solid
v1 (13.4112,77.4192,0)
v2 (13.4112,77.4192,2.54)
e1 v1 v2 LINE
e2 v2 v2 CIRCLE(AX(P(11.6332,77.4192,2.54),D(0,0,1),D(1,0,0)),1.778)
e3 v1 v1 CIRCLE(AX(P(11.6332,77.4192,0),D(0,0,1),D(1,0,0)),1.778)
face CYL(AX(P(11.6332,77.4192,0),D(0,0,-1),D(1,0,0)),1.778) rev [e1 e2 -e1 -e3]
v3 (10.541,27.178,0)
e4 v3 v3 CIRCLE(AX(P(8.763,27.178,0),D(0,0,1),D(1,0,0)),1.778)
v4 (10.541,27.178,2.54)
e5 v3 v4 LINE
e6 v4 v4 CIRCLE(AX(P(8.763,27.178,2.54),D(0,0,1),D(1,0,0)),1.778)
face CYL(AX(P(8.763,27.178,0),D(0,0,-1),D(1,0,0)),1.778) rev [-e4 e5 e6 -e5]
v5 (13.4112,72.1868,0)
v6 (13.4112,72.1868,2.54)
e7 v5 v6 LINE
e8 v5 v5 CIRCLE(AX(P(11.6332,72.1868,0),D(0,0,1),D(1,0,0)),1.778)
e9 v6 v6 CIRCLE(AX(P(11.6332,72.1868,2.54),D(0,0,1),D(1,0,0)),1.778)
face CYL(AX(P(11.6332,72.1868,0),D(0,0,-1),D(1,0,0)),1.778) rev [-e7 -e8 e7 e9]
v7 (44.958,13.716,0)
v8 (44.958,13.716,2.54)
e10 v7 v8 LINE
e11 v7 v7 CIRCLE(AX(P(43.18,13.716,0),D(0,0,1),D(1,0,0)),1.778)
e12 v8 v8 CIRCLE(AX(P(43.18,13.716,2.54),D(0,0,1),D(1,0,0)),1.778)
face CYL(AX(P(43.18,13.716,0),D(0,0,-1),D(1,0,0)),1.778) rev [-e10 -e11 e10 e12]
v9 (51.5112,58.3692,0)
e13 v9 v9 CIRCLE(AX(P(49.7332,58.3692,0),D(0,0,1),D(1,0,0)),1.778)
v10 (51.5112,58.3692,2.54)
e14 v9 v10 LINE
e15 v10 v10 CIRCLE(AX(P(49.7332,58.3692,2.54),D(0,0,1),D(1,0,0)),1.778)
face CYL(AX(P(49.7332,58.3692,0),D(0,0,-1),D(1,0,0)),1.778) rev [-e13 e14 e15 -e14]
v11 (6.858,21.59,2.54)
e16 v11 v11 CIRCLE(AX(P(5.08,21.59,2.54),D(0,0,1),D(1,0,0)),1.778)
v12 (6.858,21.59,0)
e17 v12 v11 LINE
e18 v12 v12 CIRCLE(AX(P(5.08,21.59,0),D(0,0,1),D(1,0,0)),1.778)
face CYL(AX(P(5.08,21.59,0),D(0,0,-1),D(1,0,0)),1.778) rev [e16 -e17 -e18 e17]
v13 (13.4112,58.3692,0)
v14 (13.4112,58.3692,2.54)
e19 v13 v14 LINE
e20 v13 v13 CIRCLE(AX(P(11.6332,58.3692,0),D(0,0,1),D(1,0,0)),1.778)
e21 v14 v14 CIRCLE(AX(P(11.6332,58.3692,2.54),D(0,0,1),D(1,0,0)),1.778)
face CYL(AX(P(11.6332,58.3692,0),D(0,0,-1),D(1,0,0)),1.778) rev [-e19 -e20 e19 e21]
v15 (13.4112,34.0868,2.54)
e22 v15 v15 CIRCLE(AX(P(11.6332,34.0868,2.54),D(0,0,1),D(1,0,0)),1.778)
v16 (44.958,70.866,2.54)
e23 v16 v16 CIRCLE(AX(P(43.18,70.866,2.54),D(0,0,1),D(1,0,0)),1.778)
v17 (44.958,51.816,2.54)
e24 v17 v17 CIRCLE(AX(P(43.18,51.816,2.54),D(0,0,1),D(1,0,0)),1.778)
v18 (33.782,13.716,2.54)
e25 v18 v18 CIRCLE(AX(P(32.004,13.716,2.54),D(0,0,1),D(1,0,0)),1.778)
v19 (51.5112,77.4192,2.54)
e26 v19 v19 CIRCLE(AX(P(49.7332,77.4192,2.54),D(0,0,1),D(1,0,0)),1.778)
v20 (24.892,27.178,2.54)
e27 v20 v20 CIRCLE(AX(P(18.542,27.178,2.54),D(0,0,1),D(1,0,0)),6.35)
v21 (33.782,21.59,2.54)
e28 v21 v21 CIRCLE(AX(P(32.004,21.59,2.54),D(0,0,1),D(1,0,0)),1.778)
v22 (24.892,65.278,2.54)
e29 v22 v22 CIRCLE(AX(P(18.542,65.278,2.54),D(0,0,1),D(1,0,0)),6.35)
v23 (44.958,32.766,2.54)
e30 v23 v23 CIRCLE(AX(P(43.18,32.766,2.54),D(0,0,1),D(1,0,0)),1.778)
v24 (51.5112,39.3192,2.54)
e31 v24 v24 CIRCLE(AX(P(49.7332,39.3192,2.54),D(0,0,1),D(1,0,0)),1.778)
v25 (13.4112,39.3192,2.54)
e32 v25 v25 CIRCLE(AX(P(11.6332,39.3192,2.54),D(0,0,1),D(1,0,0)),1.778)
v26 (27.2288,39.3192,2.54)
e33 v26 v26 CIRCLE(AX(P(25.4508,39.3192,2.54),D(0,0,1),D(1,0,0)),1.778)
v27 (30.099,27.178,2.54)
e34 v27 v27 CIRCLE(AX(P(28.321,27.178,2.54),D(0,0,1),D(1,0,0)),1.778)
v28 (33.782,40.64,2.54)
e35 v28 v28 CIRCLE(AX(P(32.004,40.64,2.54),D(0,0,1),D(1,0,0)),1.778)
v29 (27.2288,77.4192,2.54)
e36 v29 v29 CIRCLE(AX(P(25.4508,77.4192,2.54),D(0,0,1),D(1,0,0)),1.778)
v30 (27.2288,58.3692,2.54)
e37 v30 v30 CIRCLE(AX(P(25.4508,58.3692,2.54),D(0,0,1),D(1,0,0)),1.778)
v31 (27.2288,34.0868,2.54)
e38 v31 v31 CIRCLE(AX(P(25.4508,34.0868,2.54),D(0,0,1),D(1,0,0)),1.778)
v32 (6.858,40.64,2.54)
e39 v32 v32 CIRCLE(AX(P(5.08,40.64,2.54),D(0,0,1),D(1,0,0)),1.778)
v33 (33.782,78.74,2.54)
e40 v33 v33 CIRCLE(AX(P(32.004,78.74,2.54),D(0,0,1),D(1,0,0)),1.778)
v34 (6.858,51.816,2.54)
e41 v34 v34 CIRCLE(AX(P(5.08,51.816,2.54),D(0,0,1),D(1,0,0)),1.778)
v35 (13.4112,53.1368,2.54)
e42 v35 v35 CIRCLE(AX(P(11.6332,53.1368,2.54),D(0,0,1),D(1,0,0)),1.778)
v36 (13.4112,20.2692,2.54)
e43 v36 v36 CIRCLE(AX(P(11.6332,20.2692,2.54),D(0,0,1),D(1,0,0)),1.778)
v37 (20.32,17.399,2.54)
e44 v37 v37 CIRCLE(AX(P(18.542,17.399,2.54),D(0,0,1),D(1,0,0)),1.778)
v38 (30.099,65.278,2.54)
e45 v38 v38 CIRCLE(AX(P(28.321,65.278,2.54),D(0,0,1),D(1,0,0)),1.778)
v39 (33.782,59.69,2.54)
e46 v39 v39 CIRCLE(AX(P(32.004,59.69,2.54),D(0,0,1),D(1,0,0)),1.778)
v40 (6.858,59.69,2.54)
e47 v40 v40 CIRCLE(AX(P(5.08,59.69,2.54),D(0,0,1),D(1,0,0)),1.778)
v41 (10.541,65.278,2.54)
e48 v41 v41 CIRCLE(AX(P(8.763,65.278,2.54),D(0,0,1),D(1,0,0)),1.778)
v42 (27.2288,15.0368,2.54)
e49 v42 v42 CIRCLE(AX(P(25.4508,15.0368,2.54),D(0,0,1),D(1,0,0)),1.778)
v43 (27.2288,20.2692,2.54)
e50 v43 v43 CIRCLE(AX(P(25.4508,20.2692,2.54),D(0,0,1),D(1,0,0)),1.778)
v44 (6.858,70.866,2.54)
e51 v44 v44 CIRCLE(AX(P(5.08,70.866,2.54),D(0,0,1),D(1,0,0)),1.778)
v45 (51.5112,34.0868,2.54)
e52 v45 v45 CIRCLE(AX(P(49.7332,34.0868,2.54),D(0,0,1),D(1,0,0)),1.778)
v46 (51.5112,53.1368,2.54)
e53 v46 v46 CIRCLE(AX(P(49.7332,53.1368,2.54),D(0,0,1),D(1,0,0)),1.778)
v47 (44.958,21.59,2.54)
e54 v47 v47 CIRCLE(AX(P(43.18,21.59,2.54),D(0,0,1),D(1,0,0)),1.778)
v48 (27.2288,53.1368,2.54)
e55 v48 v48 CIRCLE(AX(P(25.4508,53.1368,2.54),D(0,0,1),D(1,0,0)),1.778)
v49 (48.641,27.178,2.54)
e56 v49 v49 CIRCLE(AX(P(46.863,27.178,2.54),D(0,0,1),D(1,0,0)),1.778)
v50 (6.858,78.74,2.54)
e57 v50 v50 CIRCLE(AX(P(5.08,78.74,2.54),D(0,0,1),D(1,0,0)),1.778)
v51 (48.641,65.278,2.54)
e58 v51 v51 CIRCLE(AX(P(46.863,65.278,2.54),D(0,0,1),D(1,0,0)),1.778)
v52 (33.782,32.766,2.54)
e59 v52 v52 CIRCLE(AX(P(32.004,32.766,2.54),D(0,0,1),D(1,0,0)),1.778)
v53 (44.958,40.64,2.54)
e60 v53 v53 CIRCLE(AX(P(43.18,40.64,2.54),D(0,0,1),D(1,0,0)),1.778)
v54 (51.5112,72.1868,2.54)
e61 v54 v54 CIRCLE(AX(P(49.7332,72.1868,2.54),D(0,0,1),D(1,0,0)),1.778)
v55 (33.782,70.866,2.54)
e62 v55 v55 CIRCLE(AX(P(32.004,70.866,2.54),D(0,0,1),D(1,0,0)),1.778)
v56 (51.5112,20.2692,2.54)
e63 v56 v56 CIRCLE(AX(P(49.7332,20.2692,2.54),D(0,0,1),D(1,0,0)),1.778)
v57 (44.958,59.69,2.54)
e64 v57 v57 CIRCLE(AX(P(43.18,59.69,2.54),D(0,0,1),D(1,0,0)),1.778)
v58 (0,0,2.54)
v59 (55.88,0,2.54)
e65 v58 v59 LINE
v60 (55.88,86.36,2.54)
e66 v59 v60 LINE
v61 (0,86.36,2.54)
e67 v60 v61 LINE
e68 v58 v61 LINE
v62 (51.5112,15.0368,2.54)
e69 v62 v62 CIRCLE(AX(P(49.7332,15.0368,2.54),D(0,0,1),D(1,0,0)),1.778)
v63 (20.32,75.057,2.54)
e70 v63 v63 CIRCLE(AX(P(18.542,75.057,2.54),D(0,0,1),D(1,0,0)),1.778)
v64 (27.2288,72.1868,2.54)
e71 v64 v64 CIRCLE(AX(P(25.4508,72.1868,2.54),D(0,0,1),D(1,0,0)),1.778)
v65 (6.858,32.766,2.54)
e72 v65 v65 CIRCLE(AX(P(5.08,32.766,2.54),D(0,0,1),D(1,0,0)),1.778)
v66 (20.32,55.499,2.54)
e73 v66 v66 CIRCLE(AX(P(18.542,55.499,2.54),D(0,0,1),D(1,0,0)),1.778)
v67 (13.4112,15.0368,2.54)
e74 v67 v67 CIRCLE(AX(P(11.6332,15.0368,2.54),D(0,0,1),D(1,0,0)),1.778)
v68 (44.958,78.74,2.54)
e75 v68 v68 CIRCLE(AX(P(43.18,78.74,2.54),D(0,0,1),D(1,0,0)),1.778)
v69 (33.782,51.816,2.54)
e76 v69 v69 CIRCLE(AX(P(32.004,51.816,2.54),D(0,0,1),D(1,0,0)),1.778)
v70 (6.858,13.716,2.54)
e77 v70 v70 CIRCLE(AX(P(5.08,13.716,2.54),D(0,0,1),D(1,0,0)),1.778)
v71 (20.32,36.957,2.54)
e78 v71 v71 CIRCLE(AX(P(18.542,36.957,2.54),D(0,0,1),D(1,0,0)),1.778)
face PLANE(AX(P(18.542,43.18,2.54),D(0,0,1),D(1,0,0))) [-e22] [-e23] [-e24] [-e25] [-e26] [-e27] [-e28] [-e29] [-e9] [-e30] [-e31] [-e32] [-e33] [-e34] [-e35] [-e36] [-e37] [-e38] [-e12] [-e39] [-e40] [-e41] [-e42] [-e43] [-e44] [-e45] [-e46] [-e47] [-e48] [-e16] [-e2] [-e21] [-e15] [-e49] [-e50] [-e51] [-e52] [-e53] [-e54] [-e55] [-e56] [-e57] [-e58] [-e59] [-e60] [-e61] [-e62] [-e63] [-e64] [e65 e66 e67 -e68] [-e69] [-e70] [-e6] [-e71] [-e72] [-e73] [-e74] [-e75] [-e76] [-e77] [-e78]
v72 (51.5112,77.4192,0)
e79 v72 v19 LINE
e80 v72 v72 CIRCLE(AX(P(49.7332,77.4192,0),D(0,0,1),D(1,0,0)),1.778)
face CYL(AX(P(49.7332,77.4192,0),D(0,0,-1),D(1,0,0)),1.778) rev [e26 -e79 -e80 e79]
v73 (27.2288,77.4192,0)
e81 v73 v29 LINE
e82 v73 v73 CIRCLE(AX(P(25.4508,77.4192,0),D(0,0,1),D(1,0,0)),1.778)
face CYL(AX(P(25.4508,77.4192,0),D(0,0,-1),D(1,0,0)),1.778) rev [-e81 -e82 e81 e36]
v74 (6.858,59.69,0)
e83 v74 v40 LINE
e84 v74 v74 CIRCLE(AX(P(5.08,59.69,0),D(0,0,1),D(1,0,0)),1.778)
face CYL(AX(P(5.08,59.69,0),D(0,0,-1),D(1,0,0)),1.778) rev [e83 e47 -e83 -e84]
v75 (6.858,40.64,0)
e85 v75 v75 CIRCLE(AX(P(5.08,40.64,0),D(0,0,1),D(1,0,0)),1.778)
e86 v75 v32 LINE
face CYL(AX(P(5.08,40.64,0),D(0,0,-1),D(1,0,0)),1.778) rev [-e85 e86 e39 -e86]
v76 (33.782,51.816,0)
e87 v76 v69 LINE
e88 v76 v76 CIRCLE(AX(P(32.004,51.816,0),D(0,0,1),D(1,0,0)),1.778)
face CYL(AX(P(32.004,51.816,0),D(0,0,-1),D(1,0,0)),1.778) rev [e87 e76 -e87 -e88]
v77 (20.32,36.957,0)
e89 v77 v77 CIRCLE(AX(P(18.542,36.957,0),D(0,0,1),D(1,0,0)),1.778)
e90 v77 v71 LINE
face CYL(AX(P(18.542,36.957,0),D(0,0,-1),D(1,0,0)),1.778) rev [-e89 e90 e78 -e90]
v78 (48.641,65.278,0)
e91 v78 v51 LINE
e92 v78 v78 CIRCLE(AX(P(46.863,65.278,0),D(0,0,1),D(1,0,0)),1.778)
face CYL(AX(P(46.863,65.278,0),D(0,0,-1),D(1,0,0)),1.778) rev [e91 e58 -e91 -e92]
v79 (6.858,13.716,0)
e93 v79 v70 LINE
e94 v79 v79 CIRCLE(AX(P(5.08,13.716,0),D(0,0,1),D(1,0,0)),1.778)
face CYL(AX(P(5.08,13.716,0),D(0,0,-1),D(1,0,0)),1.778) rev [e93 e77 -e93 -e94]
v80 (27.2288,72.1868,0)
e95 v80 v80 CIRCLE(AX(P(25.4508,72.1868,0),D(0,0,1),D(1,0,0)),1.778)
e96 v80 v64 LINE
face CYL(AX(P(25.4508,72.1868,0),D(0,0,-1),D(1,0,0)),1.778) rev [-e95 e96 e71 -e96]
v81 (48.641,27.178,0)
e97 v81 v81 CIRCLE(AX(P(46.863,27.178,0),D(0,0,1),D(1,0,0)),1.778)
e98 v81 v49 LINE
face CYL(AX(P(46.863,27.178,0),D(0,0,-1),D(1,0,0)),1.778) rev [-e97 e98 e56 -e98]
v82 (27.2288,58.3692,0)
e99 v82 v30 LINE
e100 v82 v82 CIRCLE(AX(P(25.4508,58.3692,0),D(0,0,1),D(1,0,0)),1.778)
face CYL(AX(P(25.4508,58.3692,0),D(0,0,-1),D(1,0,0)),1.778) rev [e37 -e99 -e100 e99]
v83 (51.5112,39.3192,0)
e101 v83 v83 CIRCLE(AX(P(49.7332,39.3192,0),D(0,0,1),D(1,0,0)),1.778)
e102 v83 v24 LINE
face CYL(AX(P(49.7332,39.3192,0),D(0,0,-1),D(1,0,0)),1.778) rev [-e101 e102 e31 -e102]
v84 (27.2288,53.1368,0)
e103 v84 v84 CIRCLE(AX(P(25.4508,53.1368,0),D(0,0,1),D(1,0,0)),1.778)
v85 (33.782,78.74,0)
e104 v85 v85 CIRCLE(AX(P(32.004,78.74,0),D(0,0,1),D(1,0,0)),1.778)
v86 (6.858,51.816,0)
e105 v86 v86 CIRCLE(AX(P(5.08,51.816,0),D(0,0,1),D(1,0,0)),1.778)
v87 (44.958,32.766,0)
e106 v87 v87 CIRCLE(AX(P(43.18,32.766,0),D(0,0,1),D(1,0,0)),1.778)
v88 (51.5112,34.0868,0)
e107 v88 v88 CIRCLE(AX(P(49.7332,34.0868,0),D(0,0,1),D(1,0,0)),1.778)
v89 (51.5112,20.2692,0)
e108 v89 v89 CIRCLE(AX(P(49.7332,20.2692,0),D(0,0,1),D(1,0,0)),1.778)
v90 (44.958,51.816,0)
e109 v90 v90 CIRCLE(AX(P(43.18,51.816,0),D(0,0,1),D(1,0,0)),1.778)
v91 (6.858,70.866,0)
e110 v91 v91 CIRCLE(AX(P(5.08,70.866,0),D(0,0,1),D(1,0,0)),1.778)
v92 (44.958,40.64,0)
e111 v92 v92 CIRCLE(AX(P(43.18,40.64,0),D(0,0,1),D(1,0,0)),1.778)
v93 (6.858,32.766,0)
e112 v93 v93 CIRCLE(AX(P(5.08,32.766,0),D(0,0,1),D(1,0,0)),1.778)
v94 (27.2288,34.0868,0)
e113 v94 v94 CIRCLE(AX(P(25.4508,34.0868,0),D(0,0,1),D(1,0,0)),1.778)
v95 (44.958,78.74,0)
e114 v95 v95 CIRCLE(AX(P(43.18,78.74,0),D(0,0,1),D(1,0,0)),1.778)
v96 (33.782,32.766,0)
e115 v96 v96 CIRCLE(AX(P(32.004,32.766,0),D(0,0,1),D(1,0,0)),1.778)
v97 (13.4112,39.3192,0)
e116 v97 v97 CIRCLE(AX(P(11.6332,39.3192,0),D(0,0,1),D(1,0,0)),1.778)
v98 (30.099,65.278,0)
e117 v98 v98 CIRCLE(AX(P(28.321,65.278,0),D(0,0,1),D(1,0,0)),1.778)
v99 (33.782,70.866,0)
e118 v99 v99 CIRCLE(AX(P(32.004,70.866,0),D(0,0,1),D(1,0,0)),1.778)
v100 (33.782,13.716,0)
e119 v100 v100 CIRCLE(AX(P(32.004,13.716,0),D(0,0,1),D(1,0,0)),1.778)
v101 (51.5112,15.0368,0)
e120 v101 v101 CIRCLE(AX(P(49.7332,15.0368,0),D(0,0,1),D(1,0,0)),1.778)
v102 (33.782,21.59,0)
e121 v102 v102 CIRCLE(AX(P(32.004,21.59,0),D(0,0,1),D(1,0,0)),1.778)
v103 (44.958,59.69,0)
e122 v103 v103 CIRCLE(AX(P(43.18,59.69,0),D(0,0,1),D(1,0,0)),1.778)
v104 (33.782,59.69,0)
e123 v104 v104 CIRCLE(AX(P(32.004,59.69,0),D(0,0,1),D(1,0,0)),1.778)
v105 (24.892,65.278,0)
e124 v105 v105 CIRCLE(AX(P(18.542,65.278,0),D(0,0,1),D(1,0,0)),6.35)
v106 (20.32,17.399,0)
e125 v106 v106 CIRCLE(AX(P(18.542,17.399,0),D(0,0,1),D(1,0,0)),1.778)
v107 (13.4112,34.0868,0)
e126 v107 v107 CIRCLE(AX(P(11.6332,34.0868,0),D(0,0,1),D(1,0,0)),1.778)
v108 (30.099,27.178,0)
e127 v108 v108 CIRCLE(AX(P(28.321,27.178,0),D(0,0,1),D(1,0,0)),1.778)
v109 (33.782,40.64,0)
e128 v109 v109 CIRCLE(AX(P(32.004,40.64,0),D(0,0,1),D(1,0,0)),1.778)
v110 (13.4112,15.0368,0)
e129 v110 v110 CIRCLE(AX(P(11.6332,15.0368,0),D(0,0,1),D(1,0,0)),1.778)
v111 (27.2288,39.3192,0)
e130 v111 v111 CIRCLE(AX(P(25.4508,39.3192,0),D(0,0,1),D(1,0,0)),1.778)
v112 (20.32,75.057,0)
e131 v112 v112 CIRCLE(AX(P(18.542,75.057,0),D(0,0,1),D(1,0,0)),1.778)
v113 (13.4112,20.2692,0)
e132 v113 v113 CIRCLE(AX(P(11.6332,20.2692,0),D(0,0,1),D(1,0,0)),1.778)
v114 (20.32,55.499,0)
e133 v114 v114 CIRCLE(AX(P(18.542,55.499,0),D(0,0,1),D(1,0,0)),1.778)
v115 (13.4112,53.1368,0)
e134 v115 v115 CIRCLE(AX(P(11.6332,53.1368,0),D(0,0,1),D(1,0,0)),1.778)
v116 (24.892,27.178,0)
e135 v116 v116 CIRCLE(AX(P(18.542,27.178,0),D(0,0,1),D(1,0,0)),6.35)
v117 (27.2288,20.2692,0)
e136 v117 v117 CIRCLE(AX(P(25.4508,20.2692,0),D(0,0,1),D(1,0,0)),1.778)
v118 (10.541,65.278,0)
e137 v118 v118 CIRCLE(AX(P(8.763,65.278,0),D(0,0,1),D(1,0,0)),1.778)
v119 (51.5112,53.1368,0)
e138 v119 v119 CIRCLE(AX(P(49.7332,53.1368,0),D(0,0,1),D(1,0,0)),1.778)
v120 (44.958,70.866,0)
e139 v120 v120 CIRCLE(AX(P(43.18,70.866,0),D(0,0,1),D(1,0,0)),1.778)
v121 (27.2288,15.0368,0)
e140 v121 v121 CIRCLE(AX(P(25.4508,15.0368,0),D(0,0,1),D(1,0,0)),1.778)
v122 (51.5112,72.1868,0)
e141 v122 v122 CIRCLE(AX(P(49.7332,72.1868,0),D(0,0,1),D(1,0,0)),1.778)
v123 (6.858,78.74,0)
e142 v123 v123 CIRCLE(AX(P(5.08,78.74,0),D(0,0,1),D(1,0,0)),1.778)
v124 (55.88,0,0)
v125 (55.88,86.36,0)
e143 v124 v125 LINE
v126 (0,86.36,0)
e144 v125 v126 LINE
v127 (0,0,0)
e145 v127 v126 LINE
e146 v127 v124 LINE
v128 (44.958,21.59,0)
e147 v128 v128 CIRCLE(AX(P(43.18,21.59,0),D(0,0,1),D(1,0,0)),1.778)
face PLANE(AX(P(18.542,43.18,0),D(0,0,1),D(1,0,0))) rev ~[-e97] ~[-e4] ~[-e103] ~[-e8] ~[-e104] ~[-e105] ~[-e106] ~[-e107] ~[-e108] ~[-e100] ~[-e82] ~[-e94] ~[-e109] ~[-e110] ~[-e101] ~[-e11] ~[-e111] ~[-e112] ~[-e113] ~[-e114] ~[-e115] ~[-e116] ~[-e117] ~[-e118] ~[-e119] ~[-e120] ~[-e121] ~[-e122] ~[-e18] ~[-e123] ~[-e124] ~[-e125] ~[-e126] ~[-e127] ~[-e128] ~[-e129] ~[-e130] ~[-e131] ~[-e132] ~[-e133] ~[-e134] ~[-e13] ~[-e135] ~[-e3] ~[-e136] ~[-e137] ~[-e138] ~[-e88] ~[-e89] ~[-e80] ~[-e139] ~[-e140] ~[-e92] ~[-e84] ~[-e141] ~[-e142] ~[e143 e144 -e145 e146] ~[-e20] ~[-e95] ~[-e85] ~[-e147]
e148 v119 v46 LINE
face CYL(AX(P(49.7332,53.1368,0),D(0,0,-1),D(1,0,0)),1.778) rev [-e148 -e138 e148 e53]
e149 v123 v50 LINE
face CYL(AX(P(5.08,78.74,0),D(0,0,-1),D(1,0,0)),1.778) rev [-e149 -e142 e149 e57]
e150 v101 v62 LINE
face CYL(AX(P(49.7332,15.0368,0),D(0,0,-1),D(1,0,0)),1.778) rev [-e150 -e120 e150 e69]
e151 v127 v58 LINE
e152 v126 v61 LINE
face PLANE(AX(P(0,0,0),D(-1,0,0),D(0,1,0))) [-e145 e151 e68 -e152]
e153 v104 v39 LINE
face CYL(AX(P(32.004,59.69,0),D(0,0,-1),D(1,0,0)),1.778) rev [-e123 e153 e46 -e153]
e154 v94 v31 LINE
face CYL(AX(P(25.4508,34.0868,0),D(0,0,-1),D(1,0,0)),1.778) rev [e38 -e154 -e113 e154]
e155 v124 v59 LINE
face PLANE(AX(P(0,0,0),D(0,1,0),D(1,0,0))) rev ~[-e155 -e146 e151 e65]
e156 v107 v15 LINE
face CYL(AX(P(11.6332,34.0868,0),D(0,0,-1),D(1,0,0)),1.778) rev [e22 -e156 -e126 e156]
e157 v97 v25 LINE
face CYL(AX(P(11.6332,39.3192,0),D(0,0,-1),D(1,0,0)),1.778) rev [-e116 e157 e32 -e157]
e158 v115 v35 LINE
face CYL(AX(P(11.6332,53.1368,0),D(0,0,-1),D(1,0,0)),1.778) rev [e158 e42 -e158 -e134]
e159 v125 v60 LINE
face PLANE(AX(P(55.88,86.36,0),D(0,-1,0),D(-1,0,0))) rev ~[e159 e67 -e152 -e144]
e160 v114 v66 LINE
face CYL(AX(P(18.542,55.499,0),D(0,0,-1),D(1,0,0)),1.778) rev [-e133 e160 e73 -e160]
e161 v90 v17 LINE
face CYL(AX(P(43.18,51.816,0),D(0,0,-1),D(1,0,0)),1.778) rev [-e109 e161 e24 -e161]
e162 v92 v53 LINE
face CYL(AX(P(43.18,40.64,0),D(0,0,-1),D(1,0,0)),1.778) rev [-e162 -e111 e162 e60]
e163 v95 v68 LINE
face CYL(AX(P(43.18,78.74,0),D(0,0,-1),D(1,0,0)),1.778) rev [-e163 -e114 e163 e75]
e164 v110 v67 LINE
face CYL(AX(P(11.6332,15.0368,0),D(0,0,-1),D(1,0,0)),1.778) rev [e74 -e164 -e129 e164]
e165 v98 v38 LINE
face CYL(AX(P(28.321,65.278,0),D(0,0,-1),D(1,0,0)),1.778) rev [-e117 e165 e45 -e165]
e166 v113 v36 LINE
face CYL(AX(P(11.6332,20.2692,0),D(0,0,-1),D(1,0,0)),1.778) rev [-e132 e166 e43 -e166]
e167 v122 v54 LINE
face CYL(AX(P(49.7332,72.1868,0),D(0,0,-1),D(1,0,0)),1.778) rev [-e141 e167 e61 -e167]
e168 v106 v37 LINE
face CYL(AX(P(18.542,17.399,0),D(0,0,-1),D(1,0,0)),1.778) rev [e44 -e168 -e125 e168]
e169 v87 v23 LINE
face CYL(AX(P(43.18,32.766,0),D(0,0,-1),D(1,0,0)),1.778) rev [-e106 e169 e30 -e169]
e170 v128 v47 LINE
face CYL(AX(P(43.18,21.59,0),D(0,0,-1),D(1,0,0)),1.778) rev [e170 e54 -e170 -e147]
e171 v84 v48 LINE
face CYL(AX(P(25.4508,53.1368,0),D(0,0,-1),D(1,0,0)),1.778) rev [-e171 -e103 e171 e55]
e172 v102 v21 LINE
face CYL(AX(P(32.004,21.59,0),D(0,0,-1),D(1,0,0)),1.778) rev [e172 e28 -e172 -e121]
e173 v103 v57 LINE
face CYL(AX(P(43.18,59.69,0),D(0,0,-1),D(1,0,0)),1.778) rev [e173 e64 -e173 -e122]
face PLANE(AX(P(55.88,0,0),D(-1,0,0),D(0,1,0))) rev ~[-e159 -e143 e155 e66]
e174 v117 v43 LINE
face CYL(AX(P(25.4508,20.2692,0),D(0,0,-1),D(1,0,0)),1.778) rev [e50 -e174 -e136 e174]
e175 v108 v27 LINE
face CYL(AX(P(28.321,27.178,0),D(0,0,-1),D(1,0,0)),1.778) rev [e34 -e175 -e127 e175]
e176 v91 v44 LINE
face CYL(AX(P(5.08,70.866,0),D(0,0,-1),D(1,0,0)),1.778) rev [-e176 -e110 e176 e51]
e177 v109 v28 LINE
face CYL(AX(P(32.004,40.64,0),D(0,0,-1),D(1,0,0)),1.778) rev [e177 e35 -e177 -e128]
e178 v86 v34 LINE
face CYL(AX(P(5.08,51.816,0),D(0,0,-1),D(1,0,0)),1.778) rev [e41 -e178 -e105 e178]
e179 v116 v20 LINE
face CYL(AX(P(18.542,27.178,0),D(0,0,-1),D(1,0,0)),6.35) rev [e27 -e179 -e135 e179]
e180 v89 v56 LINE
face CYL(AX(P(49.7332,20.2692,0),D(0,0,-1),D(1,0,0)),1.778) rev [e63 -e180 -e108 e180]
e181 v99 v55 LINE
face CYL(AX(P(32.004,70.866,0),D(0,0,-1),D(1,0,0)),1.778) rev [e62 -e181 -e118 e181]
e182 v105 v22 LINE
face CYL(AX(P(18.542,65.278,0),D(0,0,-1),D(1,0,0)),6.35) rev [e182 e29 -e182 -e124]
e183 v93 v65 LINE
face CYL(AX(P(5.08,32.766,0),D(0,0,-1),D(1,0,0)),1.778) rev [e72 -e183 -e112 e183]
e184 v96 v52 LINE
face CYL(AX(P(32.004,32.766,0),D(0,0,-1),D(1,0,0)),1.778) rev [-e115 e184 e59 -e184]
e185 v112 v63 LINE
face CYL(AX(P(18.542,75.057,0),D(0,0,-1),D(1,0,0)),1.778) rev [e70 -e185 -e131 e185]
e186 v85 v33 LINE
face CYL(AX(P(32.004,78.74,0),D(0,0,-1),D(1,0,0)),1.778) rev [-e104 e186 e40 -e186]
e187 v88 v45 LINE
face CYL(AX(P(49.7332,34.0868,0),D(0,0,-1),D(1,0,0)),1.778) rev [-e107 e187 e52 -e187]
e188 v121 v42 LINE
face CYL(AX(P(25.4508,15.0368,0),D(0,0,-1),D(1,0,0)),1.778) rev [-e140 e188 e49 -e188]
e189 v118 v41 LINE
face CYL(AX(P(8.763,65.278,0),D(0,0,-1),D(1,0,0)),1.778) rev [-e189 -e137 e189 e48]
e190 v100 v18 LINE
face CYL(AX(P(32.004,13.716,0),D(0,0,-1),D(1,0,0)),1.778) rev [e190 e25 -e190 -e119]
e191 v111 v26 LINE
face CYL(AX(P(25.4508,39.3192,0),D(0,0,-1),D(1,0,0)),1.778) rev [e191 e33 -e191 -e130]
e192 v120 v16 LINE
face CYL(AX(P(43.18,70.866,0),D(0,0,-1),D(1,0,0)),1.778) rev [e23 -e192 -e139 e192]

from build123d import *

# Parameters (mm, degrees)
F0_W     = 37.084
F0_H     = 86.36
F0_R     = 1.778
F0_R_2   = 6.35
F0_W_2   = 18.796
F1_DEPTH = 2.54


with BuildPart() as f1:
    # F0 (on Top) → F1 (new body)
    with BuildSketch(Plane.XY):
        with Locations((18.542, 43.18)):
            Rectangle(F0_W, F0_H)
        with Locations((5.08, 13.716)):
            Circle(F0_R, mode=Mode.SUBTRACT)
        with Locations((11.6332, 15.0368)):
            Circle(F0_R, mode=Mode.SUBTRACT)
        with Locations((11.6332, 20.2692)):
            Circle(F0_R, mode=Mode.SUBTRACT)
        with Locations((18.542, 17.399)):
            Circle(F0_R, mode=Mode.SUBTRACT)
        with Locations((25.4508, 15.0368)):
            Circle(F0_R, mode=Mode.SUBTRACT)
        with Locations((25.4508, 20.2692)):
            Circle(F0_R, mode=Mode.SUBTRACT)
        with Locations((5.08, 21.59)):
            Circle(F0_R, mode=Mode.SUBTRACT)
        with Locations((8.763, 27.178)):
            Circle(F0_R, mode=Mode.SUBTRACT)
        with Locations((5.08, 32.766)):
            Circle(F0_R, mode=Mode.SUBTRACT)
        with Locations((5.08, 40.64)):
            Circle(F0_R, mode=Mode.SUBTRACT)
        with Locations((11.6332, 34.0868)):
            Circle(F0_R, mode=Mode.SUBTRACT)
        with Locations((11.6332, 39.3192)):
            Circle(F0_R, mode=Mode.SUBTRACT)
        with Locations((18.542, 27.178)):
            Circle(F0_R_2, mode=Mode.SUBTRACT)
        with Locations((18.542, 36.957)):
            Circle(F0_R, mode=Mode.SUBTRACT)
        with Locations((25.4508, 34.0868)):
            Circle(F0_R, mode=Mode.SUBTRACT)
        with Locations((25.4508, 39.3192)):
            Circle(F0_R, mode=Mode.SUBTRACT)
        with Locations((32.004, 13.716)):
            Circle(F0_R, mode=Mode.SUBTRACT)
        with Locations((32.004, 21.59)):
            Circle(F0_R, mode=Mode.SUBTRACT)
        with Locations((28.321, 27.178)):
            Circle(F0_R, mode=Mode.SUBTRACT)
        with Locations((32.004, 32.766)):
            Circle(F0_R, mode=Mode.SUBTRACT)
        with Locations((32.004, 40.64)):
            Circle(F0_R, mode=Mode.SUBTRACT)
        with Locations((5.08, 51.816)):
            Circle(F0_R, mode=Mode.SUBTRACT)
        with Locations((11.6332, 53.1368)):
            Circle(F0_R, mode=Mode.SUBTRACT)
        with Locations((5.08, 59.69)):
            Circle(F0_R, mode=Mode.SUBTRACT)
        with Locations((11.6332, 58.3692)):
            Circle(F0_R, mode=Mode.SUBTRACT)
        with Locations((25.4508, 53.1368)):
            Circle(F0_R, mode=Mode.SUBTRACT)
        with Locations((18.542, 55.499)):
            Circle(F0_R, mode=Mode.SUBTRACT)
        with Locations((25.4508, 58.3692)):
            Circle(F0_R, mode=Mode.SUBTRACT)
        with Locations((5.08, 70.866)):
            Circle(F0_R, mode=Mode.SUBTRACT)
        with Locations((8.763, 65.278)):
            Circle(F0_R, mode=Mode.SUBTRACT)
        with Locations((11.6332, 72.1868)):
            Circle(F0_R, mode=Mode.SUBTRACT)
        with Locations((5.08, 78.74)):
            Circle(F0_R, mode=Mode.SUBTRACT)
        with Locations((11.6332, 77.4192)):
            Circle(F0_R, mode=Mode.SUBTRACT)
        with Locations((18.542, 65.278)):
            Circle(F0_R_2, mode=Mode.SUBTRACT)
        with Locations((18.542, 75.057)):
            Circle(F0_R, mode=Mode.SUBTRACT)
        with Locations((25.4508, 72.1868)):
            Circle(F0_R, mode=Mode.SUBTRACT)
        with Locations((25.4508, 77.4192)):
            Circle(F0_R, mode=Mode.SUBTRACT)
        with Locations((32.004, 51.816)):
            Circle(F0_R, mode=Mode.SUBTRACT)
        with Locations((32.004, 59.69)):
            Circle(F0_R, mode=Mode.SUBTRACT)
        with Locations((28.321, 65.278)):
            Circle(F0_R, mode=Mode.SUBTRACT)
        with Locations((32.004, 70.866)):
            Circle(F0_R, mode=Mode.SUBTRACT)
        with Locations((32.004, 78.74)):
            Circle(F0_R, mode=Mode.SUBTRACT)
        with Locations((46.482, 43.18)):
            Rectangle(F0_W_2, F0_H)
        with Locations((43.18, 13.716)):
            Circle(F0_R, mode=Mode.SUBTRACT)
        with Locations((49.7332, 15.0368)):
            Circle(F0_R, mode=Mode.SUBTRACT)
        with Locations((49.7332, 20.2692)):
            Circle(F0_R, mode=Mode.SUBTRACT)
        with Locations((43.18, 21.59)):
            Circle(F0_R, mode=Mode.SUBTRACT)
        with Locations((46.863, 27.178)):
            Circle(F0_R, mode=Mode.SUBTRACT)
        with Locations((43.18, 32.766)):
            Circle(F0_R, mode=Mode.SUBTRACT)
        with Locations((43.18, 40.64)):
            Circle(F0_R, mode=Mode.SUBTRACT)
        with Locations((49.7332, 34.0868)):
            Circle(F0_R, mode=Mode.SUBTRACT)
        with Locations((49.7332, 39.3192)):
            Circle(F0_R, mode=Mode.SUBTRACT)
        with Locations((43.18, 51.816)):
            Circle(F0_R, mode=Mode.SUBTRACT)
        with Locations((49.7332, 53.1368)):
            Circle(F0_R, mode=Mode.SUBTRACT)
        with Locations((43.18, 59.69)):
            Circle(F0_R, mode=Mode.SUBTRACT)
        with Locations((49.7332, 58.3692)):
            Circle(F0_R, mode=Mode.SUBTRACT)
        with Locations((46.863, 65.278)):
            Circle(F0_R, mode=Mode.SUBTRACT)
        with Locations((43.18, 70.866)):
            Circle(F0_R, mode=Mode.SUBTRACT)
        with Locations((49.7332, 72.1868)):
            Circle(F0_R, mode=Mode.SUBTRACT)
        with Locations((43.18, 78.74)):
            Circle(F0_R, mode=Mode.SUBTRACT)
        with Locations((49.7332, 77.4192)):
            Circle(F0_R, mode=Mode.SUBTRACT)
    extrude(amount=F1_DEPTH)


solid = f1.part
